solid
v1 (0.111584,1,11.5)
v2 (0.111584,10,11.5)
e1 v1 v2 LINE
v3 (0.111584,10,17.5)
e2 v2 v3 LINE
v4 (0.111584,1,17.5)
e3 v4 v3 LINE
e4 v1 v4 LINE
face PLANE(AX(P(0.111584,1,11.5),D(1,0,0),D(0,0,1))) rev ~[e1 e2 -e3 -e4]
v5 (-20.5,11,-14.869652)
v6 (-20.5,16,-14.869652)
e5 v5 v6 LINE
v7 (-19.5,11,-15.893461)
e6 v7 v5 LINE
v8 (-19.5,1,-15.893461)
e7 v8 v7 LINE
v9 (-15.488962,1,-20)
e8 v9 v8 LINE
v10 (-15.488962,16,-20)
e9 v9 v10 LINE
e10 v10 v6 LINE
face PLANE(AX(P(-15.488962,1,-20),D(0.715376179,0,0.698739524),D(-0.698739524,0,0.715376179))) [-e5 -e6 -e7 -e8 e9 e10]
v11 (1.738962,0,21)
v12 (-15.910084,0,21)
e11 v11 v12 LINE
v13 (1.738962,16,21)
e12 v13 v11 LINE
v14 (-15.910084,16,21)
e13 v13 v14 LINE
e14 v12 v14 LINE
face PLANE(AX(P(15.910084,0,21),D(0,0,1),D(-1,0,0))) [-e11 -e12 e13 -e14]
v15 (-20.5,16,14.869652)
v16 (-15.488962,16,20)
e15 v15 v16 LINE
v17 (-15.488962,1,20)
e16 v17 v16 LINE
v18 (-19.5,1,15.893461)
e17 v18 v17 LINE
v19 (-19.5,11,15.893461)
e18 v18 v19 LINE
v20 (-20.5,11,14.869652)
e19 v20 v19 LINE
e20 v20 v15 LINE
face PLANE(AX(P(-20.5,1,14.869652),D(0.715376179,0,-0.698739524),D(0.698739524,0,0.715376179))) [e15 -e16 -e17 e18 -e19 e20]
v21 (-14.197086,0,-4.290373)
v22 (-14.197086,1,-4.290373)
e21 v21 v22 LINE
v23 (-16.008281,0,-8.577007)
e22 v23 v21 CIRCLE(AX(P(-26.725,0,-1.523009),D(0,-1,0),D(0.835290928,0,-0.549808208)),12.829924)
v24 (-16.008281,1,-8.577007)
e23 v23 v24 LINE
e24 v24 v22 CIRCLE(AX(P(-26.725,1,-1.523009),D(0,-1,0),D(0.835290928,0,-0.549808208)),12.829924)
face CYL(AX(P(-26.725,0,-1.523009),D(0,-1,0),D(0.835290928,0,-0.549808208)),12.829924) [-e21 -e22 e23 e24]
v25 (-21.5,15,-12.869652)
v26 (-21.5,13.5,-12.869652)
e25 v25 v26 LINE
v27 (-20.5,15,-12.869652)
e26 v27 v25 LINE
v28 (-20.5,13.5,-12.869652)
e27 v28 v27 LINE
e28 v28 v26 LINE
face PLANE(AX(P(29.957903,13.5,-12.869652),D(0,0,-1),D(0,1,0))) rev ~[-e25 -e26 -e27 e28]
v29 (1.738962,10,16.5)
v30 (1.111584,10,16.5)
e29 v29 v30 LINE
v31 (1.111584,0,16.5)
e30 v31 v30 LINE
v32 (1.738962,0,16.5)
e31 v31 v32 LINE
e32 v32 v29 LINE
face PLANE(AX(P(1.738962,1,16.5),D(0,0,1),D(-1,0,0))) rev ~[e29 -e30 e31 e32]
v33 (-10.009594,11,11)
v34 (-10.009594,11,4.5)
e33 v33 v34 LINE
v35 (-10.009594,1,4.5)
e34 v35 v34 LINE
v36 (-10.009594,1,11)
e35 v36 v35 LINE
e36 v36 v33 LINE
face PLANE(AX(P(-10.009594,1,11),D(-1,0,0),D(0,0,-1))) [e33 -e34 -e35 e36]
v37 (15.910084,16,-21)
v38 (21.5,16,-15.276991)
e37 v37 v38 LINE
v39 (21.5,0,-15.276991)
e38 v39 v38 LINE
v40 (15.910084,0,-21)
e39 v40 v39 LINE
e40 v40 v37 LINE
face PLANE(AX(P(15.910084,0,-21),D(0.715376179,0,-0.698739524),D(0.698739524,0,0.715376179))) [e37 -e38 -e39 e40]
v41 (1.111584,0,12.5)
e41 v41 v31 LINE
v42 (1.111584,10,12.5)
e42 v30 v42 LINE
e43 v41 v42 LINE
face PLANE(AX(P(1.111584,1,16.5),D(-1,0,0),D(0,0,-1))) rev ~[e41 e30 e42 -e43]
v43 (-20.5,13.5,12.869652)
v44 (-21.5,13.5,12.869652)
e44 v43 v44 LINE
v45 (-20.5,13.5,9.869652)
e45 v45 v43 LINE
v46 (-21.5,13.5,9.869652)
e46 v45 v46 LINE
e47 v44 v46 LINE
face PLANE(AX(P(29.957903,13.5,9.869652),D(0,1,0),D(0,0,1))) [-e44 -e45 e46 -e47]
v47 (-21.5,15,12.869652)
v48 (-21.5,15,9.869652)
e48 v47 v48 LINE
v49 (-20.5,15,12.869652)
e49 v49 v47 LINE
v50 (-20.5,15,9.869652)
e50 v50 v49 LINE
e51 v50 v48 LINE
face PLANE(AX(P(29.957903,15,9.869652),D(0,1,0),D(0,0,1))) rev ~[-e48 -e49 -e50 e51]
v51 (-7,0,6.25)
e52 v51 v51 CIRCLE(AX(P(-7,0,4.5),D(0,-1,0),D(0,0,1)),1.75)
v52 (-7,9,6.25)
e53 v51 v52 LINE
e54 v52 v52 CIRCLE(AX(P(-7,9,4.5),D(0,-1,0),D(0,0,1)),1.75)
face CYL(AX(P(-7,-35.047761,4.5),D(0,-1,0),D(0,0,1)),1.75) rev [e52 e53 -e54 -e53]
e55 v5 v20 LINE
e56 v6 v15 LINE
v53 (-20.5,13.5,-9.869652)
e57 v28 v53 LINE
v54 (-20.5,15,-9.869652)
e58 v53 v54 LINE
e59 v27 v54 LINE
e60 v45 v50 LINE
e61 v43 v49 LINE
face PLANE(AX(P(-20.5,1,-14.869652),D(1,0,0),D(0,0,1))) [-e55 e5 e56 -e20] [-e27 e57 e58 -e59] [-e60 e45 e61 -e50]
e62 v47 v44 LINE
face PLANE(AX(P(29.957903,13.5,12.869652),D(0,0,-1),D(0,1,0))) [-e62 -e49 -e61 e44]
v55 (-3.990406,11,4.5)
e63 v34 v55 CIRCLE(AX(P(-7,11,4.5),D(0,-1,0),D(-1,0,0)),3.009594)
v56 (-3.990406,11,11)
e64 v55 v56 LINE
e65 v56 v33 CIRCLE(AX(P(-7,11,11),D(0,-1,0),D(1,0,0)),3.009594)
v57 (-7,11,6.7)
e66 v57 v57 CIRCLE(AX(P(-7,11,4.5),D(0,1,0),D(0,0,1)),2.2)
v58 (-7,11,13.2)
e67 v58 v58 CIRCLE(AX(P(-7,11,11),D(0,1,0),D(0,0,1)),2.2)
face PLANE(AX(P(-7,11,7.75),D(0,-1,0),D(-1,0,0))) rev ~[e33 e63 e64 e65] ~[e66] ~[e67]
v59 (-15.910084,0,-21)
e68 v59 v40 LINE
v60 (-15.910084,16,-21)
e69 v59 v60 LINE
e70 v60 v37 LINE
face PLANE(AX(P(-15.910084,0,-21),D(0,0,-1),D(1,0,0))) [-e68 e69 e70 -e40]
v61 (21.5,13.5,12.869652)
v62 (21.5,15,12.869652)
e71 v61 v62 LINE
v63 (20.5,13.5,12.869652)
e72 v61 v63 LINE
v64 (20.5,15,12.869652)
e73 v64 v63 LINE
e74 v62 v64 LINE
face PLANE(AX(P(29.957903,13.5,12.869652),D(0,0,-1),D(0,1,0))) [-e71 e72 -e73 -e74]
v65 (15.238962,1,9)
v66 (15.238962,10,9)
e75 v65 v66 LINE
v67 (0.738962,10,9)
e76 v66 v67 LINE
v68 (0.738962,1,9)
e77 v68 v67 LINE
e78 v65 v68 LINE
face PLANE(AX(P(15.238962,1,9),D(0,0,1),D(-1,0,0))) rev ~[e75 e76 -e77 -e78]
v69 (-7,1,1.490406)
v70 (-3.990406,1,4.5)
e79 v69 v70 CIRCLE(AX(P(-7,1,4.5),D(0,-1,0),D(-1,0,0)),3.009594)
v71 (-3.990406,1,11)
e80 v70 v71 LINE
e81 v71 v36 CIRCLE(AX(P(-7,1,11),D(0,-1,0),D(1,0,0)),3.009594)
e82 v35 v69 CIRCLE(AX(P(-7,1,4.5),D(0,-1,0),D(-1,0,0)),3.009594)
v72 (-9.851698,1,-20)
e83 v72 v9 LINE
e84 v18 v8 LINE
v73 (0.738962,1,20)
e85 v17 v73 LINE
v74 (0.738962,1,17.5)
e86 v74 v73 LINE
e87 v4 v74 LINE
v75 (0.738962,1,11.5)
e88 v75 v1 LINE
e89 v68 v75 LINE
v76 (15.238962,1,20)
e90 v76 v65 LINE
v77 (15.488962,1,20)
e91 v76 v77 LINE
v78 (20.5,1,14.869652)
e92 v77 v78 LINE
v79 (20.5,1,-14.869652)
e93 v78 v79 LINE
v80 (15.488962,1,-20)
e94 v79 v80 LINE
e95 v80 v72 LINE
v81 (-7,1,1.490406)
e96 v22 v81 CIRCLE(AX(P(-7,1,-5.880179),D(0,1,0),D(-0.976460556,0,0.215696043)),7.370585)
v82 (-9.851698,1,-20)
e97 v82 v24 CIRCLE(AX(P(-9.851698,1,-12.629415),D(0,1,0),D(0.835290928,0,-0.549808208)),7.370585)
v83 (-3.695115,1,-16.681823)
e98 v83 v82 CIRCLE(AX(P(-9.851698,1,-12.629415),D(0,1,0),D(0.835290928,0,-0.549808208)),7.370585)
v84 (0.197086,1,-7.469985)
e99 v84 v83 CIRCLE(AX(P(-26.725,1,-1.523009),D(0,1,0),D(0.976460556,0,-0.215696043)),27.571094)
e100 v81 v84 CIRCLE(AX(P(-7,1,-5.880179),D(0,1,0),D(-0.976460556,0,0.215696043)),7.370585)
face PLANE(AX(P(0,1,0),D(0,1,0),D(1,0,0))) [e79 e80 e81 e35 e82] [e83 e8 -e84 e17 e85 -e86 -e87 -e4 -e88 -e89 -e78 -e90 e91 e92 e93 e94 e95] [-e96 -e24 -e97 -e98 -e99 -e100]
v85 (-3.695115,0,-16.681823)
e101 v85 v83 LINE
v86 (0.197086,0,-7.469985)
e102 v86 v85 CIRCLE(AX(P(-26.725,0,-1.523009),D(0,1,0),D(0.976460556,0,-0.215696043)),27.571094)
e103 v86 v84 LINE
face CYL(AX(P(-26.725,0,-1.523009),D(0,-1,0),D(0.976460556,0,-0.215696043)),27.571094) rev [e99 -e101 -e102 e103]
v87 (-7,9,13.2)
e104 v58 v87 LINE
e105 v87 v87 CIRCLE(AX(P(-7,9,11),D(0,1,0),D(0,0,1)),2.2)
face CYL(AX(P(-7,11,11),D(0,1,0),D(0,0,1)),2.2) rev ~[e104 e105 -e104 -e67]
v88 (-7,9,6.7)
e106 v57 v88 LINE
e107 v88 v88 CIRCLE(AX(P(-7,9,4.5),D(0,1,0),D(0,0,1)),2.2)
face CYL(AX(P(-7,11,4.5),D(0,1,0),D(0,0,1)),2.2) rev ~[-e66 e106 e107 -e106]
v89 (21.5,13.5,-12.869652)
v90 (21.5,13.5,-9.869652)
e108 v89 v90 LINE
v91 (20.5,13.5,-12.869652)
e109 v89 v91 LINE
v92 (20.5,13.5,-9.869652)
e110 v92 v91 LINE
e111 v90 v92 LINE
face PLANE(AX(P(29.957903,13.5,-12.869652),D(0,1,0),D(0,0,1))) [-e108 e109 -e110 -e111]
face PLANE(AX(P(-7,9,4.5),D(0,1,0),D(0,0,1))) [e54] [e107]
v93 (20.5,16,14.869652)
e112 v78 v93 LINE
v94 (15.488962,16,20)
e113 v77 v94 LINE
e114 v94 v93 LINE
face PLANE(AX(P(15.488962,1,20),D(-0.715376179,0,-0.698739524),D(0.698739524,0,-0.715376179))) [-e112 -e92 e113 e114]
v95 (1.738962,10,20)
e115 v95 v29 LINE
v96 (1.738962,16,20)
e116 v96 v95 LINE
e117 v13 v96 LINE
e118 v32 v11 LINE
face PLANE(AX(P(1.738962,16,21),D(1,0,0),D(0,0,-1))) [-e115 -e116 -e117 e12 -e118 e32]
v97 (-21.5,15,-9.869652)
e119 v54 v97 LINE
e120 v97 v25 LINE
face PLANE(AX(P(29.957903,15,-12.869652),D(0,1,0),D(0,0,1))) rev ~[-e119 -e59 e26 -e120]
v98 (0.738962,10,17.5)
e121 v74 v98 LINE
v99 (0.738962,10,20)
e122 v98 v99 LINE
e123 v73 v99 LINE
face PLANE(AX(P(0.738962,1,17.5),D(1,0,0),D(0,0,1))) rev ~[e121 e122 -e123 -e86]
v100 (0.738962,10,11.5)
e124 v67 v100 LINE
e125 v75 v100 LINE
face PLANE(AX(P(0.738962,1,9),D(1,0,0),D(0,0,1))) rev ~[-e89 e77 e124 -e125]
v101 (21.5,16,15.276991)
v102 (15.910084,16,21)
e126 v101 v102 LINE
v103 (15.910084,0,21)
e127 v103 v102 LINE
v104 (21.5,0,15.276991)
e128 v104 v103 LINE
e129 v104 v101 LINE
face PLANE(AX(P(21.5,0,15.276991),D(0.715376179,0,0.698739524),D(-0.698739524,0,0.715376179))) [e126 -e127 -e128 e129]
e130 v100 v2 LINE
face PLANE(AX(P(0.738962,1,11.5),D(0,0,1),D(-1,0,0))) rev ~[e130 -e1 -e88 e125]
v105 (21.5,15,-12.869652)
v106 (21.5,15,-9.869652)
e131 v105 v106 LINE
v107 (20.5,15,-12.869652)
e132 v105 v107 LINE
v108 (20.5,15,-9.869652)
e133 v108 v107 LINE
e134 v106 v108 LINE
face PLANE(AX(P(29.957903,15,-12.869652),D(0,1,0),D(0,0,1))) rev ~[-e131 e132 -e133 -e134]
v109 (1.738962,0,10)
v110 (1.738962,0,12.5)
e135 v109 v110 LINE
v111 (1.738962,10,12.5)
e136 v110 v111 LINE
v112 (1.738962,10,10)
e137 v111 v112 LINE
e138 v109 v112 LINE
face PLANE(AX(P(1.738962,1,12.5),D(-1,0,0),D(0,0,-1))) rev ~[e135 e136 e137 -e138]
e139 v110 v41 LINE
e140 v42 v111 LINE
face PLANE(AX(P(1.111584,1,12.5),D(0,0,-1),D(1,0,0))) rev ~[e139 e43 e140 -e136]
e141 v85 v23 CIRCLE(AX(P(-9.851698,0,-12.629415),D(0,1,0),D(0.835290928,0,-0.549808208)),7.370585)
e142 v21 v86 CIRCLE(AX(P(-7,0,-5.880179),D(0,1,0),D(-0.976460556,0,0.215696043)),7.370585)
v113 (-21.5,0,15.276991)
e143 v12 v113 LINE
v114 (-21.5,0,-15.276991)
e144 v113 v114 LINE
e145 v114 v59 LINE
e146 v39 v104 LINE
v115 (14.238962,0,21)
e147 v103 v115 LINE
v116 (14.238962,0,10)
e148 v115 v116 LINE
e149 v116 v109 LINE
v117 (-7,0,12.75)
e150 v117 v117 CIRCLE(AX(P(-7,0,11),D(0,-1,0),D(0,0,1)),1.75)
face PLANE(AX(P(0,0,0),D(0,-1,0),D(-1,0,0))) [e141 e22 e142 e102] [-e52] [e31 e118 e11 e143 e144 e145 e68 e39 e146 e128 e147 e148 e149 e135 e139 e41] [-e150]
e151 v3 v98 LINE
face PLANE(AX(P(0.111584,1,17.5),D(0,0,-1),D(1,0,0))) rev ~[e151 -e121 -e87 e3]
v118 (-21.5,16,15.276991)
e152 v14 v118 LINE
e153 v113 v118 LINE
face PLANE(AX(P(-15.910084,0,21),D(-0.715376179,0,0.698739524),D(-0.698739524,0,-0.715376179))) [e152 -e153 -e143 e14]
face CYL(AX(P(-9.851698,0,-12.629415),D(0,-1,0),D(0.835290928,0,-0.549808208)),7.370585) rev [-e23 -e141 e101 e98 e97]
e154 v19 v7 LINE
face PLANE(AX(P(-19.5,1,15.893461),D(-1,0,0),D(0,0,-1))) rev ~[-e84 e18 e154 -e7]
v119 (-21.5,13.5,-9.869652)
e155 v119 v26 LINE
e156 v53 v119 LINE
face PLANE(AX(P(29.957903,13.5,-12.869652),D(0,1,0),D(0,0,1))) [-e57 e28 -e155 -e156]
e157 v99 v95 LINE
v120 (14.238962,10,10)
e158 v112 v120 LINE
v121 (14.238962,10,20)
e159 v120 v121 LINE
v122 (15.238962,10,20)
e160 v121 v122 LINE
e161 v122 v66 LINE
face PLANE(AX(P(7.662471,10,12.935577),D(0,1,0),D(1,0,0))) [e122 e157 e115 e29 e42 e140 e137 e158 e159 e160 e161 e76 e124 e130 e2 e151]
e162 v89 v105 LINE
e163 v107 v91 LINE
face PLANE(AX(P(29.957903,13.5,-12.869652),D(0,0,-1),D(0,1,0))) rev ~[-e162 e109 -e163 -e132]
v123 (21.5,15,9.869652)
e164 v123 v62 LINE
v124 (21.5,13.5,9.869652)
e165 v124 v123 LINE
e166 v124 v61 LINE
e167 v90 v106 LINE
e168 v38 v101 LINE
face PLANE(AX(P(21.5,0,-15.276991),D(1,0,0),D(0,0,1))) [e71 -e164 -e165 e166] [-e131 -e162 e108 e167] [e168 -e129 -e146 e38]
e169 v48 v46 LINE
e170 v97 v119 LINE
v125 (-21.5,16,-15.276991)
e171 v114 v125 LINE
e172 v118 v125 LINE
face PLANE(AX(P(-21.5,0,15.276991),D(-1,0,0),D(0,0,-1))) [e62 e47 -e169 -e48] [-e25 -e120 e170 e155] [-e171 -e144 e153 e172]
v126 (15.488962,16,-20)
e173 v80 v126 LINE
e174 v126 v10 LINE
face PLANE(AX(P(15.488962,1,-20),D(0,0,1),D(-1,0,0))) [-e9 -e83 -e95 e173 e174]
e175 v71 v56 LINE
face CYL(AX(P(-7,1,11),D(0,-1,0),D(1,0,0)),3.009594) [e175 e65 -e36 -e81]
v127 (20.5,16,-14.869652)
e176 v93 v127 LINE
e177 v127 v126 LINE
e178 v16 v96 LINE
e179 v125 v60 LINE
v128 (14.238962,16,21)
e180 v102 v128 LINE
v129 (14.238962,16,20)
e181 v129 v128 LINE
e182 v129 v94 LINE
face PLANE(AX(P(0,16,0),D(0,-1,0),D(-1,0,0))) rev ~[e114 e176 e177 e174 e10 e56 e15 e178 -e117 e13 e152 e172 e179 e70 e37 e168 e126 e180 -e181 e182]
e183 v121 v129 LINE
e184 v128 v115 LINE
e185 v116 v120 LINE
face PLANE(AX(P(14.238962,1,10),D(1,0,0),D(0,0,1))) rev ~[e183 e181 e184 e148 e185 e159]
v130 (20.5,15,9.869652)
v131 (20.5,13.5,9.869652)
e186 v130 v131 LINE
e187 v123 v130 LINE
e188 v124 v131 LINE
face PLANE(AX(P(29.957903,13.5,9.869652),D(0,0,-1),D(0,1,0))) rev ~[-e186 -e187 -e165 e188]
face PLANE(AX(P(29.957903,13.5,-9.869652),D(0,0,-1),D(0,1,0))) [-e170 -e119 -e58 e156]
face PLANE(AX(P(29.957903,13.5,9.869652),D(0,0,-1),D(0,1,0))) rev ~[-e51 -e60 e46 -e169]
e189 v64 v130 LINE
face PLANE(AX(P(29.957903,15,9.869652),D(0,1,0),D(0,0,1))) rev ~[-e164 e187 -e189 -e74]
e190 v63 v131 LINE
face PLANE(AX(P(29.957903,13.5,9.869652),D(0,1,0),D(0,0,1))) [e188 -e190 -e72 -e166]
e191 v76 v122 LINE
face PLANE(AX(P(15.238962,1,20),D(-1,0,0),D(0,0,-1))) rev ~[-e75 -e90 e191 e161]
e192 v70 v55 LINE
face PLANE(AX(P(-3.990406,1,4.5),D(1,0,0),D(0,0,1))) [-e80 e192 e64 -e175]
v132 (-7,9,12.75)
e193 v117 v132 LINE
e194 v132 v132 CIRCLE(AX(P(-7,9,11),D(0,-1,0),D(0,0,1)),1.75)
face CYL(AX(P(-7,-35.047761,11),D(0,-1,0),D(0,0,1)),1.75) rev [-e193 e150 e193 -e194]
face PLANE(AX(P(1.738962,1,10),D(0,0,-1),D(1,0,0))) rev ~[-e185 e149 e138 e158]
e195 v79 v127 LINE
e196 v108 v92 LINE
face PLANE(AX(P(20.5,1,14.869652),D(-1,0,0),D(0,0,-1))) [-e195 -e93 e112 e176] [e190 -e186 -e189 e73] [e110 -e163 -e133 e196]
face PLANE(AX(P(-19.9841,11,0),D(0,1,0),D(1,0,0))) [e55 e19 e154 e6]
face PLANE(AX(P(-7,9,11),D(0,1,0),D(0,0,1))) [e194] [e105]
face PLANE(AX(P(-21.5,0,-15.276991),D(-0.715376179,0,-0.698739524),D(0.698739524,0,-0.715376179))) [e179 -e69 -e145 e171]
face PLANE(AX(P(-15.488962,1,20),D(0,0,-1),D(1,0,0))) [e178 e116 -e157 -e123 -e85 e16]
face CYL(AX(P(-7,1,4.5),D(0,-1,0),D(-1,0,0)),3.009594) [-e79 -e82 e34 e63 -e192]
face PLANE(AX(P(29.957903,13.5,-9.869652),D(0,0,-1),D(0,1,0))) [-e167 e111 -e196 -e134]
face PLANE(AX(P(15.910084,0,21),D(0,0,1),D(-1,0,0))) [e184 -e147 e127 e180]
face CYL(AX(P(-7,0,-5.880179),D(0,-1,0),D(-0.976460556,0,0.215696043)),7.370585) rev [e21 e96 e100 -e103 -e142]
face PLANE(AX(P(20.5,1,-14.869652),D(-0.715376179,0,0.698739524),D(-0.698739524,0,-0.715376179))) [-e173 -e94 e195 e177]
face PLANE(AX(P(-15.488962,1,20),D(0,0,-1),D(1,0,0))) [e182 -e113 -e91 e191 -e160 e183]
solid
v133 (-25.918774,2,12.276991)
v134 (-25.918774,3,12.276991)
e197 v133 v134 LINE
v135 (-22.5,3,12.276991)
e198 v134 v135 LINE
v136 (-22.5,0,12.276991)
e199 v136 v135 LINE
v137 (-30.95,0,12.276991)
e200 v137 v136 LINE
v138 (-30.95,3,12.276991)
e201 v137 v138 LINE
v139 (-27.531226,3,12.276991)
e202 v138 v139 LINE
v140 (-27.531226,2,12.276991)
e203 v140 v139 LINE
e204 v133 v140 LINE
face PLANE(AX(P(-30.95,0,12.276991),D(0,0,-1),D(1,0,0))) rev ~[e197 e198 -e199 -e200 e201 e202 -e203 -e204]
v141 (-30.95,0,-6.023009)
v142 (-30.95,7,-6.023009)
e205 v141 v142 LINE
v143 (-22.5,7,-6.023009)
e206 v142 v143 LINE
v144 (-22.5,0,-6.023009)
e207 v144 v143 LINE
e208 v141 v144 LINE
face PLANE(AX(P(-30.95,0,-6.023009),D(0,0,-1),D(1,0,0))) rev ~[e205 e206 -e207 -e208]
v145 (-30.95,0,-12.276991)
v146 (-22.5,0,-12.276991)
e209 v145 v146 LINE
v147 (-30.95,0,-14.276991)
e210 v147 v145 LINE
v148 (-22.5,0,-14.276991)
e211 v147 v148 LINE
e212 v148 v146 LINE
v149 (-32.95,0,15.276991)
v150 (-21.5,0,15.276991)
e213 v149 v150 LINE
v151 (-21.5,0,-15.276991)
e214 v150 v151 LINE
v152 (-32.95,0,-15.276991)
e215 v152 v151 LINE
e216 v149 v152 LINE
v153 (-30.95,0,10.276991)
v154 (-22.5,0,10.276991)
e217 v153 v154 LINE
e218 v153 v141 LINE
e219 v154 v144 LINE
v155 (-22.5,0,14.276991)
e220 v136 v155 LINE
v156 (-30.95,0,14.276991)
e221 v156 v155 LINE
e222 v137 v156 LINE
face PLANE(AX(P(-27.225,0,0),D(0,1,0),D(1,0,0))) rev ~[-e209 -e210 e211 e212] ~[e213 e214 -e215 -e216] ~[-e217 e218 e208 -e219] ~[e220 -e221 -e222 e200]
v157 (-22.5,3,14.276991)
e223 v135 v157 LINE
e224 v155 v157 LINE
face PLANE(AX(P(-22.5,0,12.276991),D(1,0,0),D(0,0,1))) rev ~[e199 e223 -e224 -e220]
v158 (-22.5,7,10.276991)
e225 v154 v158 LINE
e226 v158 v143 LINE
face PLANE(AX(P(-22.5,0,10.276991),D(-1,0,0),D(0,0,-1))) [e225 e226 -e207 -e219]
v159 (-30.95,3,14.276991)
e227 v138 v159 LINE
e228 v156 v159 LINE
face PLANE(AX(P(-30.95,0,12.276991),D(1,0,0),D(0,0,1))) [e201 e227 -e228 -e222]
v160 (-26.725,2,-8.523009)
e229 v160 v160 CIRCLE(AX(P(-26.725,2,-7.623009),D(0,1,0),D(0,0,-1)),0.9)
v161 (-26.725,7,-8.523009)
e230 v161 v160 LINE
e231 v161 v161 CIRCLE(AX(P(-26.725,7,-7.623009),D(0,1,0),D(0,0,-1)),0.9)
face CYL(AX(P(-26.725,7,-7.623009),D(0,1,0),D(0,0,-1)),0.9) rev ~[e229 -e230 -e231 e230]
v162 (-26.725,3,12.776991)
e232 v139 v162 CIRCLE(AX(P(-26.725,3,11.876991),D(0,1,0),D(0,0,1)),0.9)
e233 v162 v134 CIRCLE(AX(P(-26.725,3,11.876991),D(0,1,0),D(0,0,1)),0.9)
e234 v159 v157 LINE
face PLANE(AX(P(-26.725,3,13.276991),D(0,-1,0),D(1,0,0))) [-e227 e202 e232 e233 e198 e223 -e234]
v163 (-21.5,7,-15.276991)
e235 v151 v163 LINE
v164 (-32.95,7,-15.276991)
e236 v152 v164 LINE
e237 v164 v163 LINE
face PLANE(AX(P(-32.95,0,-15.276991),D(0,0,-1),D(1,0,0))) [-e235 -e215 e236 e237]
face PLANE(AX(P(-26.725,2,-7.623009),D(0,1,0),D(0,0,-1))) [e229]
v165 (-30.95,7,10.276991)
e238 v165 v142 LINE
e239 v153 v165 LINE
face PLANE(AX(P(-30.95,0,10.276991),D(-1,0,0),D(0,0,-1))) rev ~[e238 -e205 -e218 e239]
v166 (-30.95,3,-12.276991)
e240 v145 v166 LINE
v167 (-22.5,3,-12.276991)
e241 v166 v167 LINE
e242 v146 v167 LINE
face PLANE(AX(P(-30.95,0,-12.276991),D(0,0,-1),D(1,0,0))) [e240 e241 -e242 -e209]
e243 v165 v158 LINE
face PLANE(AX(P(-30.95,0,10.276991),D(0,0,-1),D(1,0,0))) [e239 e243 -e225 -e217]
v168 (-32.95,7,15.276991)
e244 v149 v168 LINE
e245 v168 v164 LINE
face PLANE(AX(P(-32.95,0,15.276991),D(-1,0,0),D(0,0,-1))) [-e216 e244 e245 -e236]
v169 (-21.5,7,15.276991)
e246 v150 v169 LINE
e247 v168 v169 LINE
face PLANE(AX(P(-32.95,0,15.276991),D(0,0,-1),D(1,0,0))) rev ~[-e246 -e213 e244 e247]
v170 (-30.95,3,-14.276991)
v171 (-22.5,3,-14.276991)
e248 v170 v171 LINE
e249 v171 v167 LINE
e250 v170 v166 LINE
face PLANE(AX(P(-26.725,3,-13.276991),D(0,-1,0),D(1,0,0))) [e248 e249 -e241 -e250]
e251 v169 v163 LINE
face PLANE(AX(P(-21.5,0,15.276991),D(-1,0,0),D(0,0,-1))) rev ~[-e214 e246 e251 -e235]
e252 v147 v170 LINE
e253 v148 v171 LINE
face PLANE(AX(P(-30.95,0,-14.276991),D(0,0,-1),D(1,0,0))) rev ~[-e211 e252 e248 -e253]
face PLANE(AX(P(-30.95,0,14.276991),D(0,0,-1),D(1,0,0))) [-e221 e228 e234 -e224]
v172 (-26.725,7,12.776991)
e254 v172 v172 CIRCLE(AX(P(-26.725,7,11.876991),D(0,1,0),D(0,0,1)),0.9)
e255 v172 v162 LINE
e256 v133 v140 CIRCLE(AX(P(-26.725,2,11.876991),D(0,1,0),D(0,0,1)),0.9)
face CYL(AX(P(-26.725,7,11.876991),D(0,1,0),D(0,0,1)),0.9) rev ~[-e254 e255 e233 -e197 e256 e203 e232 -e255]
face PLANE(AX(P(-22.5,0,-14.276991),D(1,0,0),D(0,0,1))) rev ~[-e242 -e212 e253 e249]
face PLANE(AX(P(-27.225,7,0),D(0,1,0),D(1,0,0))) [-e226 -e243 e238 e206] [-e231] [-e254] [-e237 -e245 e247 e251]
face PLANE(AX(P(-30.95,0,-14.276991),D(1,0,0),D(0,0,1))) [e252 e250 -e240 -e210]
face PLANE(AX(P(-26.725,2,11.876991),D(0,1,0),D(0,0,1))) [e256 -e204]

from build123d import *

# Parameters (mm, degrees)
OUTER_SHELL_EXTRUDE_DEPTH      = 16
BOTTOM_START                   = 1
BOTTOM_DEPTH                   = 34.047760572
CLIPS_EXTRUDE_DEPTH            = 51.457903246
CLIPS_EXTRUDE_DEPTH_BACK       = 51.457903246
CLIPS_W                        = 3
CLIPS_H                        = 1.5
PCB_SUPPORT_EXTRUDE_DEPTH      = 10
LED_SUPPORT_EXTRUDE_DEPTH      = 10
LEDS_EXTRUDE_DEPTH             = 35.047760572
LEDS_EXTRUDE_DEPTH_BACK        = 35.047760572
LED_HOLES_R                    = 1.75
KNX_PLUG_EXTRUDE_DEPTH         = 35.047760572
KNX_PLUG_SUPPORT_EXTRUDE_DEPTH = 9
SERVO_SHELL_W                  = 11.45
SERVO_SHELL_H                  = 30.553981132
SERVO_SHELL_W_2                = 8.45
SERVO_SHELL_H_2                = 16.3
SERVO_SHELL_EXTRUDE_DEPTH      = 7
ROTOR_CUT_EXTRUDE_DEPTH        = 1
SKETCH14_R                     = 0.9
CUT_EXTRUDE11_DEPTH            = 5
SKETCH15_W                     = 8.45
SKETCH15_H                     = 2
CUT_EXTRUDE12_DEPTH            = 3
SKETCH16_R                     = 2.2
CUT_EXTRUDE13_DEPTH            = 2


with BuildPart() as part:
    # Outer-Shell → Outer-Shell-Extrude (new body)
    with BuildSketch(Plane(origin=(0, 0, 0), x_dir=(1, 0, 0), z_dir=(0, 1, 0))):
        Polygon((-21.5, 15.276990566), (-15.910083809, 21), (15.910083809, 21), (21.5, 15.276990566), (21.5, -15.276990566), (15.910083809, -21), (-15.910083809, -21), (-21.5, -15.276990566), align=None)
    extrude(amount=OUTER_SHELL_EXTRUDE_DEPTH)

    # PCB-Outline → Bottom (cut, through all)
    with BuildSketch(Plane(origin=(0, 0, 0), x_dir=(1, 0, 0), z_dir=(0, 1, 0)).offset(BOTTOM_START)):
        Polygon((-15.488962048, 20), (-20.5, 14.869651621), (-20.5, -14.869651621), (-15.488962048, -20), (15.488962048, -20), (20.5, -14.869651621), (20.5, 14.869651621), (15.488962048, 20), align=None)
    extrude(amount=BOTTOM_DEPTH, mode=Mode.SUBTRACT)

    # Clips → Clips-Extrude (cut, two sides: drawn at the far end of the back side and taken through both)
    with BuildSketch(Plane.ZY.offset(21.5).offset(-CLIPS_EXTRUDE_DEPTH_BACK)):
        with Locations((-11.369651621, 14.25)):
            Rectangle(CLIPS_W, CLIPS_H)
        with Locations((11.369651621, 14.25)):
            Rectangle(CLIPS_W, CLIPS_H)
    extrude(amount=CLIPS_EXTRUDE_DEPTH + CLIPS_EXTRUDE_DEPTH_BACK, mode=Mode.SUBTRACT)

    # PCB-Support → PCB-Support-Extrude (add)
    with BuildSketch(Plane(origin=(0, 1, 0), x_dir=(1, 0, 0), z_dir=(0, 1, 0))):
        Polygon((-19.5, 15.893461145), (-20.5, 14.869651621), (-20.5, -14.869651621), (-19.5, -15.893461145), align=None)
    extrude(amount=PCB_SUPPORT_EXTRUDE_DEPTH)

    # LED-Support → LED-Support-Extrude (add)
    with BuildSketch(Plane(origin=(0, 1, 0), x_dir=(1, 0, 0), z_dir=(0, 1, 0))):
        with BuildLine():
            Line((-10.00959418, -11), (-10.00959418, -4.5))
            ThreePointArc((-10.00959418, -4.5), (-7, -1.49040582), (-3.99040582, -4.5))
            Line((-3.99040582, -4.5), (-3.99040582, -11))
            ThreePointArc((-3.99040582, -11), (-7, -14.00959418), (-10.00959418, -11))
        make_face()
    extrude(amount=LED_SUPPORT_EXTRUDE_DEPTH)

    # led-holes → LEDs-Extrude (cut, two sides: drawn at the far end of the back side and taken through both)
    with BuildSketch(Plane(origin=(0, 0, 0), x_dir=(1, 0, 0), z_dir=(0, 1, 0)).offset(-LEDS_EXTRUDE_DEPTH_BACK)):
        with Locations(Location((-7, -11, 0), (0, 0, 270))):
            Circle(LED_HOLES_R)
        with Locations(Location((-7, -4.5, 0), (0, 0, 270))):
            Circle(LED_HOLES_R)
    extrude(amount=LEDS_EXTRUDE_DEPTH + LEDS_EXTRUDE_DEPTH_BACK, mode=Mode.SUBTRACT)

    # KNX-Plug → KNX-Plug-Extrude (cut, through all)
    with BuildSketch(Plane(origin=(0, 16, 0), x_dir=(1, 0, 0), z_dir=(0, 1, 0))):
        Polygon((14.238962048, -10), (14.238962048, -21), (1.738962048, -21), (1.738962048, -16.5), (1.111583994, -16.5), (1.111583994, -12.5), (1.738962048, -12.5), (1.738962048, -10), align=None)
    extrude(amount=-KNX_PLUG_EXTRUDE_DEPTH, mode=Mode.SUBTRACT)

    # KNX-Plug-Support → KNX-Plug-Support-Extrude (add)
    with BuildSketch(Plane(origin=(0, 1, 0), x_dir=(1, 0, 0), z_dir=(0, 1, 0))):
        Polygon((0.738962048, -17.5), (0.738962048, -20), (1.738962048, -20), (1.738962048, -16.5), (1.111583994, -16.5), (1.111583994, -12.5), (1.738962048, -12.5), (1.738962048, -10), (14.238962048, -10), (14.238962048, -20), (15.238962048, -20), (15.238962048, -9), (0.738962048, -9), (0.738962048, -11.5), (0.111583994, -11.5), (0.111583994, -17.5), align=None)
    extrude(amount=KNX_PLUG_SUPPORT_EXTRUDE_DEPTH)

    # Rotor → Rotor-Cut-Extrude (cut)
    with BuildSketch(Plane(origin=(0, 0, 0), x_dir=(1, 0, 0), z_dir=(0, 1, 0))):
        with BuildLine():
            ThreePointArc((0.197085573, 7.469985253), (-1.327867915, 12.25384793), (-3.695115483, 16.681823111))
            ThreePointArc((-3.695115483, 16.681823111), (-13.904106465, 18.785997776), (-16.008281129, 8.577006794))
            ThreePointArc((-16.008281129, 8.577006794), (-14.906706926, 6.516494283), (-14.197085573, 4.290373201))
            ThreePointArc((-14.197085573, 4.290373201), (-5.410193974, -1.316906346), (0.197085573, 7.469985253))
        make_face()
    extrude(amount=ROTOR_CUT_EXTRUDE_DEPTH, mode=Mode.SUBTRACT)

    # Sketch16 → Cut-Extrude13 (cut)
    with BuildSketch(Plane(origin=(0, 11, 0), x_dir=(1, 0, 0), z_dir=(0, 1, 0))):
        with Locations(Location((-7, -11, 0), (0, 0, 270))):
            Circle(SKETCH16_R)
        with Locations(Location((-7, -4.5, 0), (0, 0, 270))):
            Circle(SKETCH16_R)
    extrude(amount=-CUT_EXTRUDE13_DEPTH, mode=Mode.SUBTRACT)


with BuildPart() as body_2:
    # Servo-Shell → Servo-Shell-Extrude (new body)
    with BuildSketch(Plane(origin=(0, 0, 0), x_dir=(1, 0, 0), z_dir=(0, 1, 0))):
        with Locations((-27.225, 0)):
            Rectangle(SERVO_SHELL_W, SERVO_SHELL_H)
        with Locations((-26.725, -2.126990566)):
            Rectangle(SERVO_SHELL_W_2, SERVO_SHELL_H_2, mode=Mode.SUBTRACT)
    extrude(amount=SERVO_SHELL_EXTRUDE_DEPTH)

    # Sketch14 → Cut-Extrude11 (cut)
    with BuildSketch(Plane(origin=(0, 7, 0), x_dir=(1, 0, 0), z_dir=(0, 1, 0))):
        with Locations(Location((-26.725, -11.876990566, 0), (0, 0, 270))):
            Circle(SKETCH14_R)
        with Locations(Location((-26.725, 7.623009434, 0), (0, 0, 90))):
            Circle(SKETCH14_R)
    extrude(amount=-CUT_EXTRUDE11_DEPTH, mode=Mode.SUBTRACT)

    # Sketch15 → Cut-Extrude12 (cut)
    with BuildSketch(Plane.XZ):
        with Locations((-26.725, 13.276990566)):
            Rectangle(SKETCH15_W, SKETCH15_H)
        with Locations((-26.725, -13.276990566)):
            Rectangle(SKETCH15_W, SKETCH15_H)
    extrude(amount=-CUT_EXTRUDE12_DEPTH, mode=Mode.SUBTRACT)


solid = Compound([part.part, body_2.part])
